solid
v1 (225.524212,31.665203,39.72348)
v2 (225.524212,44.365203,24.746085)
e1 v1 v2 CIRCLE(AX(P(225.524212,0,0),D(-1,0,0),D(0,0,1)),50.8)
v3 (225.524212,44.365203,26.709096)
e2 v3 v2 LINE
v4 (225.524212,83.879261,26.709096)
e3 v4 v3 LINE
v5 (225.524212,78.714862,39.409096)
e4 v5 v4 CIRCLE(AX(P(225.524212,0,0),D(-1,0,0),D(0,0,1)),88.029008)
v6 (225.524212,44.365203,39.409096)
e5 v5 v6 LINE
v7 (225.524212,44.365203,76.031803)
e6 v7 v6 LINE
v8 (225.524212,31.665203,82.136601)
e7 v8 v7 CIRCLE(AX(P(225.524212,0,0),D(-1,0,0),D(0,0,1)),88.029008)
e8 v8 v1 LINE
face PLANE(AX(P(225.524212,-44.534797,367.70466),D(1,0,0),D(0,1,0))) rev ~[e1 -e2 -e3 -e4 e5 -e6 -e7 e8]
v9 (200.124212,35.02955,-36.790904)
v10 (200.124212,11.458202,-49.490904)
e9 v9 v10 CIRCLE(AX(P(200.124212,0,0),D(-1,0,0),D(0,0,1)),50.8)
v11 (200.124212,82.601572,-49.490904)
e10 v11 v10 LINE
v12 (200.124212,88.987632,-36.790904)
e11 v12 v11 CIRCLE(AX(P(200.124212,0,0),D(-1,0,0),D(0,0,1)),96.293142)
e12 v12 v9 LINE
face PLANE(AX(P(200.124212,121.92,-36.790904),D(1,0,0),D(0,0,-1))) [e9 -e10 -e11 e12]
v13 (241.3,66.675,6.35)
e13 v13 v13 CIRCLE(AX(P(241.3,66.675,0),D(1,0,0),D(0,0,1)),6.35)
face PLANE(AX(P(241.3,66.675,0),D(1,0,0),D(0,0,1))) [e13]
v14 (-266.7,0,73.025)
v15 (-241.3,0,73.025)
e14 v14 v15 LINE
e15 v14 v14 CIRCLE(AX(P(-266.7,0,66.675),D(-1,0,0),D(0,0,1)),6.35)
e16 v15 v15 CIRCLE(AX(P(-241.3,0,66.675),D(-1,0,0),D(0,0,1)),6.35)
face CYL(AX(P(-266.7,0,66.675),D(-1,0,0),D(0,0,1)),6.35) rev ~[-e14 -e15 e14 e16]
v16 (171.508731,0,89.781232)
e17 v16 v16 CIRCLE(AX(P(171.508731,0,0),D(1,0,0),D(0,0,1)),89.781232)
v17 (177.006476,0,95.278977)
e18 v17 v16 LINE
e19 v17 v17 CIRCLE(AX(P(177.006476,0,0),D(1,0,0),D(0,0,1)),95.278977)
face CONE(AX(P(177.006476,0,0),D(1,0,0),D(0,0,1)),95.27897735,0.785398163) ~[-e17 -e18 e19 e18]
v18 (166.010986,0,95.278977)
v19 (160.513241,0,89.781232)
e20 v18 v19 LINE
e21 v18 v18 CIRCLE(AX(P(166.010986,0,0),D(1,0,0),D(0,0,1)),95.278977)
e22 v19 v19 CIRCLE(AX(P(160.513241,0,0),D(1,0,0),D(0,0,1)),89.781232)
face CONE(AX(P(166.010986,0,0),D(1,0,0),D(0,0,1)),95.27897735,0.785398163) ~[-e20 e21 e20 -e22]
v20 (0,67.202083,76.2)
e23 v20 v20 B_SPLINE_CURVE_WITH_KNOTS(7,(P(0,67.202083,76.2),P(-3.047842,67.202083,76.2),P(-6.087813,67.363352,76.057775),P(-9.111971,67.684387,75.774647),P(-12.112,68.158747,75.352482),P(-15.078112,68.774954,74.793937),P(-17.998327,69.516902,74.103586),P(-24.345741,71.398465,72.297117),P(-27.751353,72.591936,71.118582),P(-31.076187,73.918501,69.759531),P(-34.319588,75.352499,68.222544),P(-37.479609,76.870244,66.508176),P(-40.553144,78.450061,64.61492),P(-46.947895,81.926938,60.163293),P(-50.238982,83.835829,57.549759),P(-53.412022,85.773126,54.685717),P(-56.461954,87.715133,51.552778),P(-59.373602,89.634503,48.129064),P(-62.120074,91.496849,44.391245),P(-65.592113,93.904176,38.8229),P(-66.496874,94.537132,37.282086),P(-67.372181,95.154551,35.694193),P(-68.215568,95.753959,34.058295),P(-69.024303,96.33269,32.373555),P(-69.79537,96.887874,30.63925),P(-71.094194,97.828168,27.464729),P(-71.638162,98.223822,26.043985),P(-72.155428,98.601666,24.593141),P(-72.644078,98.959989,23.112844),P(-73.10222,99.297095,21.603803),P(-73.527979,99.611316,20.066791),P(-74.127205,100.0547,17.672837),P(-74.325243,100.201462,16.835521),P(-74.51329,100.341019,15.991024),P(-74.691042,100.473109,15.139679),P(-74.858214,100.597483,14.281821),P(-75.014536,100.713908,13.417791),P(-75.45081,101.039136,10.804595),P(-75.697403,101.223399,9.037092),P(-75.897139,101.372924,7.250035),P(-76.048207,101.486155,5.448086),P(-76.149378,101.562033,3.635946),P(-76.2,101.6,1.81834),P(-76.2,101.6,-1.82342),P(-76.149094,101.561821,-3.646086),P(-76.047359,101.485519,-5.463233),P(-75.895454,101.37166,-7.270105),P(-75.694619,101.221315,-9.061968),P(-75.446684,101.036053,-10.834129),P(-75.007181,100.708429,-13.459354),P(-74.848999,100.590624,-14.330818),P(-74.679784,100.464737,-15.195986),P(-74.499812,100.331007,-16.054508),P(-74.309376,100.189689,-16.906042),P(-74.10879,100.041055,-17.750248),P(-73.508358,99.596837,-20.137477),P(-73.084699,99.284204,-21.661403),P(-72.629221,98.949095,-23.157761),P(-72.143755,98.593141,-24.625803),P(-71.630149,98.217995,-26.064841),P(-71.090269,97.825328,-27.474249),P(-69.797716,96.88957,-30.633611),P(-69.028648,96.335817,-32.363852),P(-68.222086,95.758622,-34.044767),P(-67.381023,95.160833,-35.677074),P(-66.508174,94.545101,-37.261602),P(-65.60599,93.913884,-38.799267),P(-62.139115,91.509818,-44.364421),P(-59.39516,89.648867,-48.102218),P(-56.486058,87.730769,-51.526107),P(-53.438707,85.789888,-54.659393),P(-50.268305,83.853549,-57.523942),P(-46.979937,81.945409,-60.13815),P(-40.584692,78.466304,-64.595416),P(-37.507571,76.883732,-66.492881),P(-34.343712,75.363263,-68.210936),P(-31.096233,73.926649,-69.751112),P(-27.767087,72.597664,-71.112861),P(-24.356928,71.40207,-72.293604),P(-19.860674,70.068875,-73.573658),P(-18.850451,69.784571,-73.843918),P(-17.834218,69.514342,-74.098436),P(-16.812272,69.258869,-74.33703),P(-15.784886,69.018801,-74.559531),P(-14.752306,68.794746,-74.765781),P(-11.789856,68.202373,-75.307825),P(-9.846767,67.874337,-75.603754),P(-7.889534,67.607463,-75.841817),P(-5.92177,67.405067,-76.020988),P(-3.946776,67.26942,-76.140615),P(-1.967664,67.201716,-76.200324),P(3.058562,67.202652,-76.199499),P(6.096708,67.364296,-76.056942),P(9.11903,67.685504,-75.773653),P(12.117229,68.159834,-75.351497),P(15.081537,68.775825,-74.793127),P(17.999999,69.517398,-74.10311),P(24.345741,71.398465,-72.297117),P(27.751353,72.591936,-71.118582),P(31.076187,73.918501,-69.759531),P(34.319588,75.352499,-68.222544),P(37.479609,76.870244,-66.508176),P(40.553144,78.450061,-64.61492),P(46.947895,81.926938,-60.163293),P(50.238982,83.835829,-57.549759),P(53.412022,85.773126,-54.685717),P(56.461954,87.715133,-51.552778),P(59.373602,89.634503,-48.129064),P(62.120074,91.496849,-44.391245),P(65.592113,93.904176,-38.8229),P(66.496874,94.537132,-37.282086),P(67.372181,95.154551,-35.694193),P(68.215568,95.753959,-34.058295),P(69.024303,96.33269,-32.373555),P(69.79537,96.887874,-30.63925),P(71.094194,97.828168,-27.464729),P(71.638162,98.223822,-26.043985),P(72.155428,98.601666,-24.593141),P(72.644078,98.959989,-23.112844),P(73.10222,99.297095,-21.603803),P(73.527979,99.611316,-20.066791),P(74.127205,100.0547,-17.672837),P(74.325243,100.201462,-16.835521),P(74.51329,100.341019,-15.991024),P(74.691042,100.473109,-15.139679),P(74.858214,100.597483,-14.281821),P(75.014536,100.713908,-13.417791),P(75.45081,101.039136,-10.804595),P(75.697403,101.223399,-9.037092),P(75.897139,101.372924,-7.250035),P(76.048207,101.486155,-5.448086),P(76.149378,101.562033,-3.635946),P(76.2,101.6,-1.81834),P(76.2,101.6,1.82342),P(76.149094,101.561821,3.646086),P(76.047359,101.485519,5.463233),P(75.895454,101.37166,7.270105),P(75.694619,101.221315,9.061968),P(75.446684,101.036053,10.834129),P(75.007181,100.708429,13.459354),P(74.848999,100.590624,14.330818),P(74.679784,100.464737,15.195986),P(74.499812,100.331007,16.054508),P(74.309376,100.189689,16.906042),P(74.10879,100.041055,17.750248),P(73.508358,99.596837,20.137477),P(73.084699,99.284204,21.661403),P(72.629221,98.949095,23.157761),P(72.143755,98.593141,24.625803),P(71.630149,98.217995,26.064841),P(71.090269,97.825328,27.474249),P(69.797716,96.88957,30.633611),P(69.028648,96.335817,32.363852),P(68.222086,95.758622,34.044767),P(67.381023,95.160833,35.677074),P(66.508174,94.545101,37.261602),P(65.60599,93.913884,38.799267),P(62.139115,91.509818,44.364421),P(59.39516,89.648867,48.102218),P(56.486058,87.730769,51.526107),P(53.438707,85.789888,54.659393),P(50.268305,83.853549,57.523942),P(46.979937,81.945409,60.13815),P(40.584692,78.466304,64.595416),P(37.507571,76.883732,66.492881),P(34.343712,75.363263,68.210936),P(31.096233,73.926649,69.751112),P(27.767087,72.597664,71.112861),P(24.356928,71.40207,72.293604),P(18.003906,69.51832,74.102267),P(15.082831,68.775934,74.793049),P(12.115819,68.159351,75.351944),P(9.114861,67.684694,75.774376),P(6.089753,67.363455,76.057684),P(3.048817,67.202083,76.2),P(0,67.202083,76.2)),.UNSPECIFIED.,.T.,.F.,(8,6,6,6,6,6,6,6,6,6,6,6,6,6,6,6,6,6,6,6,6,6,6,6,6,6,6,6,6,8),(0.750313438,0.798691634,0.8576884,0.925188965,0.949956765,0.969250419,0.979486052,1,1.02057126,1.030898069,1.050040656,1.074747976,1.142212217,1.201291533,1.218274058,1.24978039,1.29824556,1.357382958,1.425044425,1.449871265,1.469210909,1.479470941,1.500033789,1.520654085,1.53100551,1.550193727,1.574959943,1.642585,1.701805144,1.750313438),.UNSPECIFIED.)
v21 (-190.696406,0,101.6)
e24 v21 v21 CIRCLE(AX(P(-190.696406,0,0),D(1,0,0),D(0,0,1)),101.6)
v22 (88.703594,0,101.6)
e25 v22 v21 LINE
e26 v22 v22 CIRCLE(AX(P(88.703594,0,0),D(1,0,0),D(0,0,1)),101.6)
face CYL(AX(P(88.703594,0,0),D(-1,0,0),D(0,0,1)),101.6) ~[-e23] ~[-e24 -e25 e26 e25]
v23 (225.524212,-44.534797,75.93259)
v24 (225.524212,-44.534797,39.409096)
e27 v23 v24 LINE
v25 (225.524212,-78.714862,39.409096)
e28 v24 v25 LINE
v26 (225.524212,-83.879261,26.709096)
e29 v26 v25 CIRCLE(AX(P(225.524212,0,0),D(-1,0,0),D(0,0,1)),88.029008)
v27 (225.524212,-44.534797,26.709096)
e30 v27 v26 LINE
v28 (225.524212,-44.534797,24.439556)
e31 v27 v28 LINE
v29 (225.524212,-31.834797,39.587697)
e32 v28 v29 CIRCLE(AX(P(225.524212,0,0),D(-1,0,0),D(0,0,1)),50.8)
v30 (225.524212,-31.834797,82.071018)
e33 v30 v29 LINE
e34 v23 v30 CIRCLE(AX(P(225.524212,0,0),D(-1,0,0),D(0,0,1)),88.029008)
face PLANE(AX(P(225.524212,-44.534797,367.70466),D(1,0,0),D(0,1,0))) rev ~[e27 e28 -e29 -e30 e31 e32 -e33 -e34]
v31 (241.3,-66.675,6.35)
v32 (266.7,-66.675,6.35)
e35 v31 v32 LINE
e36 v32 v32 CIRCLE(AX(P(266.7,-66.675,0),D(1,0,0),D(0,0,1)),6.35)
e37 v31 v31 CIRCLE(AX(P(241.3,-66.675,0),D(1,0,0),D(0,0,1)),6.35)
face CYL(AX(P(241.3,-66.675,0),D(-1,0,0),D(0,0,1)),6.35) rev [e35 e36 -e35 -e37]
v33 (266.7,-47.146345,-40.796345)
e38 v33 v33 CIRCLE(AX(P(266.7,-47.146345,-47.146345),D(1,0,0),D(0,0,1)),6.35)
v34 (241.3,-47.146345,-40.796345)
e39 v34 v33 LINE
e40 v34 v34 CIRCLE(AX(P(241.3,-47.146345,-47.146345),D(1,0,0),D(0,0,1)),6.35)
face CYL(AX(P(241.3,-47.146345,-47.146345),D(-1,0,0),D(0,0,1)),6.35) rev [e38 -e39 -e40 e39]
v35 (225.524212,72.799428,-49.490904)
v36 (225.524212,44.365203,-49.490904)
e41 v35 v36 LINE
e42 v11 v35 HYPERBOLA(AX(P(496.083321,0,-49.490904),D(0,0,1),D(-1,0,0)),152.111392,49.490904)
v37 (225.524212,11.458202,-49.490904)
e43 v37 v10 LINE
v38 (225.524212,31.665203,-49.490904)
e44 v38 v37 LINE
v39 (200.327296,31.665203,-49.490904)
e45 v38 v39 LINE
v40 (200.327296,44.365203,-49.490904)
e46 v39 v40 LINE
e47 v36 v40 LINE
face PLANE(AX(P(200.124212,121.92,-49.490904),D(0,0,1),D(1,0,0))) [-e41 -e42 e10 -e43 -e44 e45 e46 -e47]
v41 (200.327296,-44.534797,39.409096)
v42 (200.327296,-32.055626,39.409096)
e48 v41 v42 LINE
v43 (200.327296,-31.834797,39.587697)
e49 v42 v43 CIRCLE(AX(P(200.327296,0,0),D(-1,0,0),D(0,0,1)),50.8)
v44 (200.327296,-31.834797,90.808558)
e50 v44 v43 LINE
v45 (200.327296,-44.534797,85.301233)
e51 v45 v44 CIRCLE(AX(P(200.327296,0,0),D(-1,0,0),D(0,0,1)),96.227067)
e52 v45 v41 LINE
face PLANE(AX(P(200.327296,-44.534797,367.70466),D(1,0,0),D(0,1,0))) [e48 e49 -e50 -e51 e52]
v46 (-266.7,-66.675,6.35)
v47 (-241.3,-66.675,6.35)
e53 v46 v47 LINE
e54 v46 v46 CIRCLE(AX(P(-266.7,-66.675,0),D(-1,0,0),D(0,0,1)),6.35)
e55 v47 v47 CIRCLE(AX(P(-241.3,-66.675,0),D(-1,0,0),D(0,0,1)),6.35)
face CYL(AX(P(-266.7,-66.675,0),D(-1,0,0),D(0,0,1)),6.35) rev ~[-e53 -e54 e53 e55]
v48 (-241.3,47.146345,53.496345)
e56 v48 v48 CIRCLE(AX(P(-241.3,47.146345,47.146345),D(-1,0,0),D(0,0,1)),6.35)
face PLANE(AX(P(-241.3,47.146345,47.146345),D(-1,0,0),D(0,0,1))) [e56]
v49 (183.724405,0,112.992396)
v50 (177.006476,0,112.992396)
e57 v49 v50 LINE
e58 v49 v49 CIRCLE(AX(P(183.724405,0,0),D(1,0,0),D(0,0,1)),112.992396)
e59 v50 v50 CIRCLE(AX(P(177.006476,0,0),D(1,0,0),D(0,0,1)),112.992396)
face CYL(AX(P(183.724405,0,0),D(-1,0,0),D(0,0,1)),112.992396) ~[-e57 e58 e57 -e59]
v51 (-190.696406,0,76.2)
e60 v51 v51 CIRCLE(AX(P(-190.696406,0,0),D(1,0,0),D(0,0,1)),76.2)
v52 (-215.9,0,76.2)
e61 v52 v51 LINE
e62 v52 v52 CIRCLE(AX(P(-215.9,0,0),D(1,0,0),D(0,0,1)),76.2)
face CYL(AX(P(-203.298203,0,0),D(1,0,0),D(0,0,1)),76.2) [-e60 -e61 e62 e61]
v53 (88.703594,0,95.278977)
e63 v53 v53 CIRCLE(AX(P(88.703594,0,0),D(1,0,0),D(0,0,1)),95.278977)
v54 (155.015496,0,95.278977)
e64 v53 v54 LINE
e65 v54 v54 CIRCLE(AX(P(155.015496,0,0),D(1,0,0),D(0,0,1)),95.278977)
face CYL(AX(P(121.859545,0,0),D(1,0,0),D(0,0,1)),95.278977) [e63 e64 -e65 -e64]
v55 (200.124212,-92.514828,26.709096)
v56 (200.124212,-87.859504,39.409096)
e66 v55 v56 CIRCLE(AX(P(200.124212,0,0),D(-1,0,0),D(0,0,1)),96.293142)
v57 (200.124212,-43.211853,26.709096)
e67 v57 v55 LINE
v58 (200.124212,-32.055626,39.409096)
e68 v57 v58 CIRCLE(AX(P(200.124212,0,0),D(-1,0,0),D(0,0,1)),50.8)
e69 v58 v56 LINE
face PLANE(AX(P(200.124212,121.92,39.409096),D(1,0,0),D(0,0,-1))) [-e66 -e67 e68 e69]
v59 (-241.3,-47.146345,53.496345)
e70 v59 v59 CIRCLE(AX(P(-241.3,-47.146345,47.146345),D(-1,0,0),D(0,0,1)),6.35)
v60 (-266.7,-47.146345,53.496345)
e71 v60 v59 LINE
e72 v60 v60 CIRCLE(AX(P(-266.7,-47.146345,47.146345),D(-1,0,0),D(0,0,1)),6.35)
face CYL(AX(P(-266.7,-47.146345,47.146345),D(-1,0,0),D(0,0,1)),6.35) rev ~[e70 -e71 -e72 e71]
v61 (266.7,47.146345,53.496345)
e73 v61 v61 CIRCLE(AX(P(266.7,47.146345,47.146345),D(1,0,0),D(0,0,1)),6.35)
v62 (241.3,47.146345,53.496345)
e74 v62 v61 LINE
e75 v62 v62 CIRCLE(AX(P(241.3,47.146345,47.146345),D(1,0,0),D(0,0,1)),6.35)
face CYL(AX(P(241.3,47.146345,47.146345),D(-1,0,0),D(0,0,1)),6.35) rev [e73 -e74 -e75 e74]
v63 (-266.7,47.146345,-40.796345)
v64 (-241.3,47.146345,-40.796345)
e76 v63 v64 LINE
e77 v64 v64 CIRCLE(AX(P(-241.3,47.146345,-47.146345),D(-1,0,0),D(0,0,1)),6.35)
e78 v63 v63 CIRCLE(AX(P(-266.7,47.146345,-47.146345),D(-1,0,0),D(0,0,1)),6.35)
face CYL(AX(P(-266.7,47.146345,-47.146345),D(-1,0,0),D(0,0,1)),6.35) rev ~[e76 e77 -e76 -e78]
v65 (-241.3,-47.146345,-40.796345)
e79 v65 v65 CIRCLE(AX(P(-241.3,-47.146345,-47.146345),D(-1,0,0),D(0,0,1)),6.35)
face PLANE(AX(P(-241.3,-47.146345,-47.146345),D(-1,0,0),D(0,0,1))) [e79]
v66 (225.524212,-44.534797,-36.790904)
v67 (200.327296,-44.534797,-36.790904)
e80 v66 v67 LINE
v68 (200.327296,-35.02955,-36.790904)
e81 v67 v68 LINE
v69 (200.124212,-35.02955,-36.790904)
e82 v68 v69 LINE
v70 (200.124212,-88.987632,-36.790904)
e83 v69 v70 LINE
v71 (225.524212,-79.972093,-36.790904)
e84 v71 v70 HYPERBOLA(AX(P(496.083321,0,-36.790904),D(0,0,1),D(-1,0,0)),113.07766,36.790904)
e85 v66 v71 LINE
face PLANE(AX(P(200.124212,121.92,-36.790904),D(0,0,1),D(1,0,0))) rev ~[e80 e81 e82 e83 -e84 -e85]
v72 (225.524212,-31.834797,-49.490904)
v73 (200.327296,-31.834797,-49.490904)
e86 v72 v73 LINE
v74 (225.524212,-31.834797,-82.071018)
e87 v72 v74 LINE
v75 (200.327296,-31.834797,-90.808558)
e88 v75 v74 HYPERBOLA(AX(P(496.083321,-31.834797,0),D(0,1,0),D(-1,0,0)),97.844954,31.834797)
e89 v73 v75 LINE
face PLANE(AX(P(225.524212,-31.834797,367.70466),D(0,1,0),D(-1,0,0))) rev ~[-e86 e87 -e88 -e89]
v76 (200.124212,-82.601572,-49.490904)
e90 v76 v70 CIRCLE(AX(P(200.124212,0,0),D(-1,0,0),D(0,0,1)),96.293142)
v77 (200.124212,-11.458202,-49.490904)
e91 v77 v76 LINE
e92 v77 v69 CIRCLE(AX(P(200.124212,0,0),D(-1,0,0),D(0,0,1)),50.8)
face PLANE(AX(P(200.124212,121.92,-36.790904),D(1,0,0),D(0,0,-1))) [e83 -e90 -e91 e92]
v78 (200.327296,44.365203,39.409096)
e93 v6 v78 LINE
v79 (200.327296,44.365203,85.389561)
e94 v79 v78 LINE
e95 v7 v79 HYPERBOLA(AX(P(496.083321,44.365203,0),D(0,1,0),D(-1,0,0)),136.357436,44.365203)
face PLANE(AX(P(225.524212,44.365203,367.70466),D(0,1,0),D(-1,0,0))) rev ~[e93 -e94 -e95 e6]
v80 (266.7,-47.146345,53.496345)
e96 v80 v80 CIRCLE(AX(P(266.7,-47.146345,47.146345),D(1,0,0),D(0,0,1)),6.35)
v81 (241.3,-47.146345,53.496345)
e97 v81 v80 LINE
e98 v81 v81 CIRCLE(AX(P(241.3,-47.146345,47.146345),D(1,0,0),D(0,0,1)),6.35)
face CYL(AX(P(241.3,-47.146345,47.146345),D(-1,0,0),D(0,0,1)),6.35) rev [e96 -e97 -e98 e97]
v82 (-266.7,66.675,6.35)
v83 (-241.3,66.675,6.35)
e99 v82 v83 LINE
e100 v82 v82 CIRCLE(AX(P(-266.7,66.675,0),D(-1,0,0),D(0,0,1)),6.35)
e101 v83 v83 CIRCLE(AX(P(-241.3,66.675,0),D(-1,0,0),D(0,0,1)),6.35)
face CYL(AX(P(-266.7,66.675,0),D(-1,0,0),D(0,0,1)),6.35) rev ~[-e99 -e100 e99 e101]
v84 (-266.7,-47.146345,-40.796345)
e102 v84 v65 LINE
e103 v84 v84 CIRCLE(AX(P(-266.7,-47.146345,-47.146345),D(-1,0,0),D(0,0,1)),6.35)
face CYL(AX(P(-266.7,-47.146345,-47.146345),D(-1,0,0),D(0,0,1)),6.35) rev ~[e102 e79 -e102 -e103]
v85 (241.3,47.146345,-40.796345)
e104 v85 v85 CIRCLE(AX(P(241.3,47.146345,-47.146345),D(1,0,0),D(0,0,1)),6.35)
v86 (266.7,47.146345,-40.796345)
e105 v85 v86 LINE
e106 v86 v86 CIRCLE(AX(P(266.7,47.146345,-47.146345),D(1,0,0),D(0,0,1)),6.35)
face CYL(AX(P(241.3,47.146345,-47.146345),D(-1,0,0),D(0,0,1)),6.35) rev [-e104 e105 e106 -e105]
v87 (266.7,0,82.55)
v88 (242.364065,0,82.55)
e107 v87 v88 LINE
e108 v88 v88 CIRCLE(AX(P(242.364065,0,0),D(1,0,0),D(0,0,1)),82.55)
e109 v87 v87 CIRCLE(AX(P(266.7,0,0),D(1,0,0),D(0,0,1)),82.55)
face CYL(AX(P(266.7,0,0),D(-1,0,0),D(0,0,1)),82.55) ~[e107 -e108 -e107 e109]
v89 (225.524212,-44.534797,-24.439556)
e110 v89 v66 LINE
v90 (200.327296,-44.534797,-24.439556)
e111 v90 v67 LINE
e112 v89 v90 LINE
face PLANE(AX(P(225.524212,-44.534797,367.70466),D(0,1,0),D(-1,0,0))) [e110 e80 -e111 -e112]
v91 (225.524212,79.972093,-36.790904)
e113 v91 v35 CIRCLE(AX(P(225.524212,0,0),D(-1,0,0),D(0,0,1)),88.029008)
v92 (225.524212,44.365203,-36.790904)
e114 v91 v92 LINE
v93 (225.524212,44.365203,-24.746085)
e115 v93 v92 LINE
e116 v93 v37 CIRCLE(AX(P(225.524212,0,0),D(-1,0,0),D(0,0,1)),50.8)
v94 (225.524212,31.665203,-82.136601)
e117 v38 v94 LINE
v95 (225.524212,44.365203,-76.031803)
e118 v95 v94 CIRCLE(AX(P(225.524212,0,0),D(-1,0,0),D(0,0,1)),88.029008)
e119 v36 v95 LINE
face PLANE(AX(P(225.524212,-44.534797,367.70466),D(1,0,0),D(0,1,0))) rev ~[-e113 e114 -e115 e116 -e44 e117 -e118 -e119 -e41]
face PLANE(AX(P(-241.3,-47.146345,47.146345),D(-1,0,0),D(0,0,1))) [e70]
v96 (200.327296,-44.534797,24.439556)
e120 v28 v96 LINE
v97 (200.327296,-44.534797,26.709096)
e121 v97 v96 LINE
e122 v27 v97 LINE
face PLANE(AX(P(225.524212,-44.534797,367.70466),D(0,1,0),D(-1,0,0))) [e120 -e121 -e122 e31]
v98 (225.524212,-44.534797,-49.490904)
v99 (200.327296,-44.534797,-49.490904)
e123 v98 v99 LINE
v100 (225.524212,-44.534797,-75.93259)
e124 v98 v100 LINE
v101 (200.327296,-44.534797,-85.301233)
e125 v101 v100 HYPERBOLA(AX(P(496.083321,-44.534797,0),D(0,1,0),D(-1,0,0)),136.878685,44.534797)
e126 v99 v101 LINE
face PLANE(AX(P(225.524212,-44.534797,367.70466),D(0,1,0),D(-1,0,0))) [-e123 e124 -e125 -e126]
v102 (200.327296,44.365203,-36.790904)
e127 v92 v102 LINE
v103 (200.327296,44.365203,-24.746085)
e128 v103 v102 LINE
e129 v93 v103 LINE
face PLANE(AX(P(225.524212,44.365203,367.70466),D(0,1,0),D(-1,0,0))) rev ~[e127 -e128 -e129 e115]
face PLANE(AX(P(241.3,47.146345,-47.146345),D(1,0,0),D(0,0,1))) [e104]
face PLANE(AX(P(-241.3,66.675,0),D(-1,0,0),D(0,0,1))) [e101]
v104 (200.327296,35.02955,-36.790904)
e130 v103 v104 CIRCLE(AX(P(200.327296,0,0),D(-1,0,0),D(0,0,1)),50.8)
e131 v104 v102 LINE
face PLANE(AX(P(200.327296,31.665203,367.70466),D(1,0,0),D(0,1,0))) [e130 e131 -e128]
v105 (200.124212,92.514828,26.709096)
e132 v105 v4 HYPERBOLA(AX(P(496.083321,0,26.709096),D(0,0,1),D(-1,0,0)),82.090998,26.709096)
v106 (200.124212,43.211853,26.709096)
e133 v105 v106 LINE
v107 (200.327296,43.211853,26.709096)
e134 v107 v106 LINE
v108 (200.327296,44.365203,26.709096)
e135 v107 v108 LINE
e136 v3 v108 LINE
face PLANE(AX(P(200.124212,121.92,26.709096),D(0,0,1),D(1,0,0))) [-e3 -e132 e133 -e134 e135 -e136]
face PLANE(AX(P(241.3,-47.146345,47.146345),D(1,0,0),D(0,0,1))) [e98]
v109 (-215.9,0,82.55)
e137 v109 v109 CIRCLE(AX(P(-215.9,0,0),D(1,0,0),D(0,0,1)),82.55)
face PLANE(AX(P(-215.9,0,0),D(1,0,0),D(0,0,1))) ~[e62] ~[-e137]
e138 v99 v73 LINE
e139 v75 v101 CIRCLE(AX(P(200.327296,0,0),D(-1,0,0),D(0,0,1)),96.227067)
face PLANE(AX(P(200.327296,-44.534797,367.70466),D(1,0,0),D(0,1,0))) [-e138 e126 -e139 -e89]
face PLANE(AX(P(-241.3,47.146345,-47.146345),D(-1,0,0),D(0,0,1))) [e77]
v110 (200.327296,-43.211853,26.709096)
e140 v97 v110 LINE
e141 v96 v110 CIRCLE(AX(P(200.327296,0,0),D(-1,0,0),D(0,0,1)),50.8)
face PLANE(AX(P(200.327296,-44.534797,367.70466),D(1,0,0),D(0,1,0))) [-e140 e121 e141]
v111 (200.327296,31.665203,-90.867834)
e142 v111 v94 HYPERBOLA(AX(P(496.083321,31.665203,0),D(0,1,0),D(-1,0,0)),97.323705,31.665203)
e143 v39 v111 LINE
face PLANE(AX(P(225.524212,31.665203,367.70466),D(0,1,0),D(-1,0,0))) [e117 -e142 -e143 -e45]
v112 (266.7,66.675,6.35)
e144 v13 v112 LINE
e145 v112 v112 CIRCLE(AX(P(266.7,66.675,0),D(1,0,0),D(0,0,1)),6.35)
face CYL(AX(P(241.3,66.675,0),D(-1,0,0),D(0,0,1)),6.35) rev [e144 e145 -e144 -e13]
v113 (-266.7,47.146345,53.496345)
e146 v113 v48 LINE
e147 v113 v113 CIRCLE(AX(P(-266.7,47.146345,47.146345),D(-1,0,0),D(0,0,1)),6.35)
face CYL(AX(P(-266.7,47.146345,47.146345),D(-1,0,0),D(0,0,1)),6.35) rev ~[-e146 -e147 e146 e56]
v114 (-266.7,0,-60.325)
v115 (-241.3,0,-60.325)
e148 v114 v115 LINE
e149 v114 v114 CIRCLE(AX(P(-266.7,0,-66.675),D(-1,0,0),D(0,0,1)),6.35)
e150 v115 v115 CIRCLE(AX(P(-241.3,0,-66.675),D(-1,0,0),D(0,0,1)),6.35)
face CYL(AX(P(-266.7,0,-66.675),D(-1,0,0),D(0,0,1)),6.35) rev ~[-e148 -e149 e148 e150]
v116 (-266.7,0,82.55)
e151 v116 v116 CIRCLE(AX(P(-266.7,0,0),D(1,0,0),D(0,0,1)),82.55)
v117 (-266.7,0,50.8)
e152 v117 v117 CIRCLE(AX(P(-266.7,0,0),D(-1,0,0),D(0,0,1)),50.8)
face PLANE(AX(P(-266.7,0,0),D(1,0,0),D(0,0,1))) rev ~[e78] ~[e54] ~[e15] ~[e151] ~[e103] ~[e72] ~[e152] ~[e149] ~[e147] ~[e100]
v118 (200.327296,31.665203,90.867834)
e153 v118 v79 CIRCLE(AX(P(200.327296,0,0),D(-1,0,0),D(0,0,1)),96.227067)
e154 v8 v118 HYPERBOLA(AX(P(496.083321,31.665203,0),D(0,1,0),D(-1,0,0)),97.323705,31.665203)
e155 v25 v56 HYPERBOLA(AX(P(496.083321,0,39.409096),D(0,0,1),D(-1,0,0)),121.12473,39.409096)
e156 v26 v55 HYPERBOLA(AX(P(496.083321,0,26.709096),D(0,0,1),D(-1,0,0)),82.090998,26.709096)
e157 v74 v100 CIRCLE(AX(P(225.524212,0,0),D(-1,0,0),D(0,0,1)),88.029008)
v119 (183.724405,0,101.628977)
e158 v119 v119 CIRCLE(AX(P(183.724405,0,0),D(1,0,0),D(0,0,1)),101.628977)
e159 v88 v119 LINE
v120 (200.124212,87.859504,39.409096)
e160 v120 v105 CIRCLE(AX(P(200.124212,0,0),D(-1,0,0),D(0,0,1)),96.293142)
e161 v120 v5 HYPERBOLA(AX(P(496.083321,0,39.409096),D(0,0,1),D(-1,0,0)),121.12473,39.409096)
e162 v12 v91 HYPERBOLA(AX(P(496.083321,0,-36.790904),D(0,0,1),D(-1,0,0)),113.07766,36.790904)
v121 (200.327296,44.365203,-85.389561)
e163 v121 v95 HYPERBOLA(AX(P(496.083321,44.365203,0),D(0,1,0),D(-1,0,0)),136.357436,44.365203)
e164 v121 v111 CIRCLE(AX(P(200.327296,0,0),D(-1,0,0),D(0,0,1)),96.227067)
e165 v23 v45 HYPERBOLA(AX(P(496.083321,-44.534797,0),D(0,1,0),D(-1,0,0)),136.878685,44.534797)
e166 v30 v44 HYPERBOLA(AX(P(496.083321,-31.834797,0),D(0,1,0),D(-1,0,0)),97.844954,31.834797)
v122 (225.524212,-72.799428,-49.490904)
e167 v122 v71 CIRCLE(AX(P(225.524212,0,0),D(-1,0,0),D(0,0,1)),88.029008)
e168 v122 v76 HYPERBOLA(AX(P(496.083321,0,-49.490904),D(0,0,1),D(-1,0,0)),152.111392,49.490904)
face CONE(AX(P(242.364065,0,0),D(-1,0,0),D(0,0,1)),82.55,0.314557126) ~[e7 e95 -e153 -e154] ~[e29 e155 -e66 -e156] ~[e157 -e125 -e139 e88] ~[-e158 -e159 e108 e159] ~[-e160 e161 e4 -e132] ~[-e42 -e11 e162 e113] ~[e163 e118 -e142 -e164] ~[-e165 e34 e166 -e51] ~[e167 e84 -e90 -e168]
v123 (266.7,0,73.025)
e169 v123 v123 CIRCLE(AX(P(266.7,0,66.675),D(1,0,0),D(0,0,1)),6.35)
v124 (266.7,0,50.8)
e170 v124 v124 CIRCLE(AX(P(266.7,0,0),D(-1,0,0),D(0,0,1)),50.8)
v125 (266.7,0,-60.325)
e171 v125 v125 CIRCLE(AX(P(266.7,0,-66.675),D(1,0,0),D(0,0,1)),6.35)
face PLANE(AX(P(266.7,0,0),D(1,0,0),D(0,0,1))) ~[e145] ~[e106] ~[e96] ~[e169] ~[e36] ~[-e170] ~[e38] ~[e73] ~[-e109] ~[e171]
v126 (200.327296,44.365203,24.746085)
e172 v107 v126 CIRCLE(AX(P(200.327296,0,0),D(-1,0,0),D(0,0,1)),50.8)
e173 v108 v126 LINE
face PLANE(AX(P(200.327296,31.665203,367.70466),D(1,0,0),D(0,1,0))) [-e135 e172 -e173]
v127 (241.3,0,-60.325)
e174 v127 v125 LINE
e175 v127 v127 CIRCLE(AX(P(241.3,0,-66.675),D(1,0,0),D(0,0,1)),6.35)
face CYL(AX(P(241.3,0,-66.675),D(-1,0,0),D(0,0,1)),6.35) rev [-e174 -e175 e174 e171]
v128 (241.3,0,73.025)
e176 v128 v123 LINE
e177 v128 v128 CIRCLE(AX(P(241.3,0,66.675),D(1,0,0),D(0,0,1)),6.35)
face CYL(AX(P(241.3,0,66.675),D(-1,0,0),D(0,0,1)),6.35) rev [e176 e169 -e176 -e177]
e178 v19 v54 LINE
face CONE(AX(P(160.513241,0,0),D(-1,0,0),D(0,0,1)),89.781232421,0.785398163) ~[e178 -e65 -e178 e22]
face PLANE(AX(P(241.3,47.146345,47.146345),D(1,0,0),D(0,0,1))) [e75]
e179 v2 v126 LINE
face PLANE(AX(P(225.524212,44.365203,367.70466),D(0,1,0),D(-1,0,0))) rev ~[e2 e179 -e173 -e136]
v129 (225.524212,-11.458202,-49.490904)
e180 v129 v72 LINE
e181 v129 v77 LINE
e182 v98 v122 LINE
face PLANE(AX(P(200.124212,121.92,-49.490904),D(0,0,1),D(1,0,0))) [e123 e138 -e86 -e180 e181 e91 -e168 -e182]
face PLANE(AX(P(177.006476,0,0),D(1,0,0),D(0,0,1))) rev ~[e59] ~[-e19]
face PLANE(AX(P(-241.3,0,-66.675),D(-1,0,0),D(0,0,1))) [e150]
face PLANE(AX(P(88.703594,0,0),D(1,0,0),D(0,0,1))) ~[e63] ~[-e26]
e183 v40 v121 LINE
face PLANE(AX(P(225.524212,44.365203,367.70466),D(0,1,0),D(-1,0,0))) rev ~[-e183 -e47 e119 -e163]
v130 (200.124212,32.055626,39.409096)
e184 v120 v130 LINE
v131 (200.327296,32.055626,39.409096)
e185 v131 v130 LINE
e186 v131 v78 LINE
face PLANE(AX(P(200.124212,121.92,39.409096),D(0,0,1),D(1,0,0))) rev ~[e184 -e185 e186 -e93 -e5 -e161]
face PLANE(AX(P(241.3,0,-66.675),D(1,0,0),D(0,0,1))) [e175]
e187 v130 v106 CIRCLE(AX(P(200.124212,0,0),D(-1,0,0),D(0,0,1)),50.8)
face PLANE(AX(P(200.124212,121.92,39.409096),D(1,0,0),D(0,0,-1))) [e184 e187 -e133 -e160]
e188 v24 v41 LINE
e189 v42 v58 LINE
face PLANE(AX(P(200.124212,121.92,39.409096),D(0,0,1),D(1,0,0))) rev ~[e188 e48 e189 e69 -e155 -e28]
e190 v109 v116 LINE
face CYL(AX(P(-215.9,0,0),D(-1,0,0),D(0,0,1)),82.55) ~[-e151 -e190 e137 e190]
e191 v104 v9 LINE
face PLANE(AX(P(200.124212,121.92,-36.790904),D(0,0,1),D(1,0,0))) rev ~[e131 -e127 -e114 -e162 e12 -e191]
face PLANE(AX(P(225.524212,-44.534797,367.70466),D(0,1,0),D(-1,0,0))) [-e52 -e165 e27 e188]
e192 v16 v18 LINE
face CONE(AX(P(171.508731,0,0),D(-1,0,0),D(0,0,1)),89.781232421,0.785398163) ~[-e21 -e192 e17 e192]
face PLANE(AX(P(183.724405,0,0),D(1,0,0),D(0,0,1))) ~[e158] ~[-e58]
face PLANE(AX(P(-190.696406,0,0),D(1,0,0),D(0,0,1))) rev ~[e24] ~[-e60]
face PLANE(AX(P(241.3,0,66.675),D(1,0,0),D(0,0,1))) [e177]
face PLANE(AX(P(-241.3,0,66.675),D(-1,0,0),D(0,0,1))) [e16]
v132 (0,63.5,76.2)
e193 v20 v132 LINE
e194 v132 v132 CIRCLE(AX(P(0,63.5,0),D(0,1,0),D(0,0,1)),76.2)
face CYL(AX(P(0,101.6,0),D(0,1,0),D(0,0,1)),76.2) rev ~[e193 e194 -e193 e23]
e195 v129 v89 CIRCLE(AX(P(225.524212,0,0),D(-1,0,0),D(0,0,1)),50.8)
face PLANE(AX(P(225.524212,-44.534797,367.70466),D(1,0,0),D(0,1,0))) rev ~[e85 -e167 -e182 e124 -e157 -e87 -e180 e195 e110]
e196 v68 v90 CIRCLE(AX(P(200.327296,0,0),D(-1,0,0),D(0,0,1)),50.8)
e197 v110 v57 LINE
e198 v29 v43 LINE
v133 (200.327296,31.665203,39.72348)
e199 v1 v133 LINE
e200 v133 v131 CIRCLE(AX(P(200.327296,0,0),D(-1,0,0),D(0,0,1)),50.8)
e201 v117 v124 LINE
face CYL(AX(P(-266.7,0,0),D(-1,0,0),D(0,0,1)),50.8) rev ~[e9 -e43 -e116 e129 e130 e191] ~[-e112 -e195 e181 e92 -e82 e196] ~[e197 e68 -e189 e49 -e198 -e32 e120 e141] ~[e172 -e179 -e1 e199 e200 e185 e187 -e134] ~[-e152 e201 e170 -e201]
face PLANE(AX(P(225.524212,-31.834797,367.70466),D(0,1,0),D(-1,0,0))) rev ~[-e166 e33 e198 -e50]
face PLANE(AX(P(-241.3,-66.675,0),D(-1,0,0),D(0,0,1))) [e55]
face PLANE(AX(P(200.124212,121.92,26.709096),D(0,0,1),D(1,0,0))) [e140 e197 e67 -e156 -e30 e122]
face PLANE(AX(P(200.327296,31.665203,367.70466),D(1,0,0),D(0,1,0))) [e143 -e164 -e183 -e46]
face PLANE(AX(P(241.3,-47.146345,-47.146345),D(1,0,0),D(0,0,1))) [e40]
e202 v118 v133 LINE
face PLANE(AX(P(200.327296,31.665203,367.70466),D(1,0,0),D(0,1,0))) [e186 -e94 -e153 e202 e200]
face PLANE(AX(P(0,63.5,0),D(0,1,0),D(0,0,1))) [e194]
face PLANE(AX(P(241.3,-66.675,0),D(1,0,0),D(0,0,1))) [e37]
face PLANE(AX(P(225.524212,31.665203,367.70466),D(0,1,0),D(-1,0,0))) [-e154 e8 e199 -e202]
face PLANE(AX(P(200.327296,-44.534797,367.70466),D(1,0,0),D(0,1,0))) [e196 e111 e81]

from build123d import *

# Parameters (mm, degrees)
SKETCH2_W               = 25.203593645
SKETCH2_H               = 76.2
SKETCH2_W_2             = 66.311902543
SKETCH2_H_2             = 95.27897735
SKETCH3_W               = 25.4
SKETCH3_H               = 12.7
CUT_EXTRUDE1_DEPTH      = 373.934318072
CUT_EXTRUDE2_DEPTH      = 328.295564346
CUT_EXTRUDE2_DEPTH_BACK = 328.295564346
SKETCH4_W               = 25.196915696
SKETCH4_H               = 12.7
SKETCH5_R               = 50.8
CUT_EXTRUDE3_DEPTH      = 557.821446487
SKETCH6_R               = 6.35
CUT_EXTRUDE4_DEPTH      = 25.4
CUT_EXTRUDE5_START      = -25.4
SKETCH7_R               = 6.35
CUT_EXTRUDE5_DEPTH      = 25.4
SKETCH8_R               = 76.2
CUT_EXTRUDE8_DEPTH      = 38.1


with BuildPart() as part:
    # Sketch2 → Revolve1 (revolve)
    with BuildSketch(Plane(origin=(0, 0, 0), x_dir=(1, 0, 0), z_dir=(0, 1, 0)), mode=Mode.PRIVATE) as revolve1_sk:
        Polygon((-266.7, 82.55), (-266.7, 0), (-215.9, 0), (-215.9, 76.2), (-215.9, 82.55), align=None)
        with Locations((-203.298203177, 38.1)):
            Rectangle(SKETCH2_W, SKETCH2_H)
        Polygon((-190.696406355, 76.2), (-190.696406355, 0), (88.703593645, 0), (88.703593645, 95.27897735), (88.703593645, 101.6), (-190.696406355, 101.6), align=None)
        with Locations((121.859544917, 47.639488675)):
            Rectangle(SKETCH2_W_2, SKETCH2_H_2)
        Polygon((155.015496188, 95.27897735), (155.015496188, 0), (166.010986047, 0), (166.010986047, 95.27897735), (160.513241117, 89.781232421), align=None)
        Polygon((166.010986047, 95.27897735), (166.010986047, 0), (177.006475906, 0), (177.006475906, 95.27897735), (171.508730976, 89.781232421), align=None)
        Polygon((177.006475906, 95.27897735), (177.006475906, 0), (183.724405052, 0), (183.724405052, 101.62897735), (183.724405052, 112.992396356), (177.006475906, 112.992396356), align=None)
        Polygon((183.724405052, 101.62897735), (183.724405052, 0), (266.7, 0), (266.7, 82.55), (242.364065099, 82.55), align=None)
    revolve(revolve1_sk.sketch.rotate(Axis((-266.7, 0, 0), (1, 0, 0)), 180), axis=Axis((-266.7, 0, 0), (1, 0, 0)))

    # Sketch3 → Cut-Extrude1 (cut, through all)
    with BuildSketch(Plane(origin=(0, 121.92, 0), x_dir=(1, 0, 0), z_dir=(0, 1, 0))):
        with Locations((212.824212149, 43.140904216)):
            Rectangle(SKETCH3_W, SKETCH3_H)
        with Locations((212.824212149, -33.059095784)):
            Rectangle(SKETCH3_W, SKETCH3_H)
    extrude(amount=-CUT_EXTRUDE1_DEPTH, mode=Mode.SUBTRACT)

    # Sketch4 → Cut-Extrude2 (cut, two sides: drawn at the far end of the back side and taken through both)
    with BuildSketch(Plane(origin=(0, 0, 39.409095784), x_dir=(-1, 0, 0), z_dir=(0, 0, -1)).offset(-CUT_EXTRUDE2_DEPTH_BACK)):
        with Locations((-212.925754301, 38.015203285)):
            Rectangle(SKETCH4_W, SKETCH4_H)
        with Locations((-212.925754301, -38.184796715)):
            Rectangle(SKETCH4_W, SKETCH4_H)
    extrude(amount=CUT_EXTRUDE2_DEPTH + CUT_EXTRUDE2_DEPTH_BACK, mode=Mode.SUBTRACT)

    # Sketch5 → Cut-Extrude3 (cut, through all)
    with BuildSketch(Plane.ZY.offset(266.7)):
        Circle(SKETCH5_R)
    extrude(amount=-CUT_EXTRUDE3_DEPTH, mode=Mode.SUBTRACT)

    # Sketch6 → Cut-Extrude4 (cut)
    with BuildSketch(Plane.ZY.offset(266.7)):
        with Locations((0, 66.675)):
            Circle(SKETCH6_R)
        with Locations((47.146344636, 47.146344636)):
            Circle(SKETCH6_R)
        with Locations((66.675, 0)):
            Circle(SKETCH6_R)
        with Locations((47.146344636, -47.146344636)):
            Circle(SKETCH6_R)
        with Locations((0, -66.675)):
            Circle(SKETCH6_R)
        with Locations((-47.146344636, -47.146344636)):
            Circle(SKETCH6_R)
        with Locations((-66.675, 0)):
            Circle(SKETCH6_R)
        with Locations((-47.146344636, 47.146344636)):
            Circle(SKETCH6_R)
    extrude(amount=-CUT_EXTRUDE4_DEPTH, mode=Mode.SUBTRACT)

    # Sketch7 → Cut-Extrude5 (cut)
    with BuildSketch(Plane(origin=(266.7, 0, 0), x_dir=(0, 0, -1), z_dir=(1, 0, 0)).offset(CUT_EXTRUDE5_START)):
        with Locations(Location((0, 66.675, 0), (0, 0, 180))):
            Circle(SKETCH7_R)
        with Locations(Location((47.146344636, 47.146344636, 0), (0, 0, 180))):
            Circle(SKETCH7_R)
        with Locations(Location((66.675, 0, 0), (0, 0, 180))):
            Circle(SKETCH7_R)
        with Locations(Location((47.146344636, -47.146344636, 0), (0, 0, 180))):
            Circle(SKETCH7_R)
        with Locations(Location((0, -66.675, 0), (0, 0, 180))):
            Circle(SKETCH7_R)
        with Locations(Location((-47.146344636, -47.146344636, 0), (0, 0, 180))):
            Circle(SKETCH7_R)
        with Locations(Location((-66.675, 0, 0), (0, 0, 180))):
            Circle(SKETCH7_R)
        with Locations(Location((-47.146344636, 47.146344636, 0), (0, 0, 180))):
            Circle(SKETCH7_R)
    extrude(amount=CUT_EXTRUDE5_DEPTH, mode=Mode.SUBTRACT)

    # Sketch8 → Cut-Extrude8 (cut)
    with BuildSketch(Plane(origin=(0, 101.6, 0), x_dir=(1, 0, 0), z_dir=(0, 1, 0))):
        with Locations(Location((0, 0, 0), (0, 0, 270))):
            Circle(SKETCH8_R)
    extrude(amount=-CUT_EXTRUDE8_DEPTH, mode=Mode.SUBTRACT)


solid = part.part
